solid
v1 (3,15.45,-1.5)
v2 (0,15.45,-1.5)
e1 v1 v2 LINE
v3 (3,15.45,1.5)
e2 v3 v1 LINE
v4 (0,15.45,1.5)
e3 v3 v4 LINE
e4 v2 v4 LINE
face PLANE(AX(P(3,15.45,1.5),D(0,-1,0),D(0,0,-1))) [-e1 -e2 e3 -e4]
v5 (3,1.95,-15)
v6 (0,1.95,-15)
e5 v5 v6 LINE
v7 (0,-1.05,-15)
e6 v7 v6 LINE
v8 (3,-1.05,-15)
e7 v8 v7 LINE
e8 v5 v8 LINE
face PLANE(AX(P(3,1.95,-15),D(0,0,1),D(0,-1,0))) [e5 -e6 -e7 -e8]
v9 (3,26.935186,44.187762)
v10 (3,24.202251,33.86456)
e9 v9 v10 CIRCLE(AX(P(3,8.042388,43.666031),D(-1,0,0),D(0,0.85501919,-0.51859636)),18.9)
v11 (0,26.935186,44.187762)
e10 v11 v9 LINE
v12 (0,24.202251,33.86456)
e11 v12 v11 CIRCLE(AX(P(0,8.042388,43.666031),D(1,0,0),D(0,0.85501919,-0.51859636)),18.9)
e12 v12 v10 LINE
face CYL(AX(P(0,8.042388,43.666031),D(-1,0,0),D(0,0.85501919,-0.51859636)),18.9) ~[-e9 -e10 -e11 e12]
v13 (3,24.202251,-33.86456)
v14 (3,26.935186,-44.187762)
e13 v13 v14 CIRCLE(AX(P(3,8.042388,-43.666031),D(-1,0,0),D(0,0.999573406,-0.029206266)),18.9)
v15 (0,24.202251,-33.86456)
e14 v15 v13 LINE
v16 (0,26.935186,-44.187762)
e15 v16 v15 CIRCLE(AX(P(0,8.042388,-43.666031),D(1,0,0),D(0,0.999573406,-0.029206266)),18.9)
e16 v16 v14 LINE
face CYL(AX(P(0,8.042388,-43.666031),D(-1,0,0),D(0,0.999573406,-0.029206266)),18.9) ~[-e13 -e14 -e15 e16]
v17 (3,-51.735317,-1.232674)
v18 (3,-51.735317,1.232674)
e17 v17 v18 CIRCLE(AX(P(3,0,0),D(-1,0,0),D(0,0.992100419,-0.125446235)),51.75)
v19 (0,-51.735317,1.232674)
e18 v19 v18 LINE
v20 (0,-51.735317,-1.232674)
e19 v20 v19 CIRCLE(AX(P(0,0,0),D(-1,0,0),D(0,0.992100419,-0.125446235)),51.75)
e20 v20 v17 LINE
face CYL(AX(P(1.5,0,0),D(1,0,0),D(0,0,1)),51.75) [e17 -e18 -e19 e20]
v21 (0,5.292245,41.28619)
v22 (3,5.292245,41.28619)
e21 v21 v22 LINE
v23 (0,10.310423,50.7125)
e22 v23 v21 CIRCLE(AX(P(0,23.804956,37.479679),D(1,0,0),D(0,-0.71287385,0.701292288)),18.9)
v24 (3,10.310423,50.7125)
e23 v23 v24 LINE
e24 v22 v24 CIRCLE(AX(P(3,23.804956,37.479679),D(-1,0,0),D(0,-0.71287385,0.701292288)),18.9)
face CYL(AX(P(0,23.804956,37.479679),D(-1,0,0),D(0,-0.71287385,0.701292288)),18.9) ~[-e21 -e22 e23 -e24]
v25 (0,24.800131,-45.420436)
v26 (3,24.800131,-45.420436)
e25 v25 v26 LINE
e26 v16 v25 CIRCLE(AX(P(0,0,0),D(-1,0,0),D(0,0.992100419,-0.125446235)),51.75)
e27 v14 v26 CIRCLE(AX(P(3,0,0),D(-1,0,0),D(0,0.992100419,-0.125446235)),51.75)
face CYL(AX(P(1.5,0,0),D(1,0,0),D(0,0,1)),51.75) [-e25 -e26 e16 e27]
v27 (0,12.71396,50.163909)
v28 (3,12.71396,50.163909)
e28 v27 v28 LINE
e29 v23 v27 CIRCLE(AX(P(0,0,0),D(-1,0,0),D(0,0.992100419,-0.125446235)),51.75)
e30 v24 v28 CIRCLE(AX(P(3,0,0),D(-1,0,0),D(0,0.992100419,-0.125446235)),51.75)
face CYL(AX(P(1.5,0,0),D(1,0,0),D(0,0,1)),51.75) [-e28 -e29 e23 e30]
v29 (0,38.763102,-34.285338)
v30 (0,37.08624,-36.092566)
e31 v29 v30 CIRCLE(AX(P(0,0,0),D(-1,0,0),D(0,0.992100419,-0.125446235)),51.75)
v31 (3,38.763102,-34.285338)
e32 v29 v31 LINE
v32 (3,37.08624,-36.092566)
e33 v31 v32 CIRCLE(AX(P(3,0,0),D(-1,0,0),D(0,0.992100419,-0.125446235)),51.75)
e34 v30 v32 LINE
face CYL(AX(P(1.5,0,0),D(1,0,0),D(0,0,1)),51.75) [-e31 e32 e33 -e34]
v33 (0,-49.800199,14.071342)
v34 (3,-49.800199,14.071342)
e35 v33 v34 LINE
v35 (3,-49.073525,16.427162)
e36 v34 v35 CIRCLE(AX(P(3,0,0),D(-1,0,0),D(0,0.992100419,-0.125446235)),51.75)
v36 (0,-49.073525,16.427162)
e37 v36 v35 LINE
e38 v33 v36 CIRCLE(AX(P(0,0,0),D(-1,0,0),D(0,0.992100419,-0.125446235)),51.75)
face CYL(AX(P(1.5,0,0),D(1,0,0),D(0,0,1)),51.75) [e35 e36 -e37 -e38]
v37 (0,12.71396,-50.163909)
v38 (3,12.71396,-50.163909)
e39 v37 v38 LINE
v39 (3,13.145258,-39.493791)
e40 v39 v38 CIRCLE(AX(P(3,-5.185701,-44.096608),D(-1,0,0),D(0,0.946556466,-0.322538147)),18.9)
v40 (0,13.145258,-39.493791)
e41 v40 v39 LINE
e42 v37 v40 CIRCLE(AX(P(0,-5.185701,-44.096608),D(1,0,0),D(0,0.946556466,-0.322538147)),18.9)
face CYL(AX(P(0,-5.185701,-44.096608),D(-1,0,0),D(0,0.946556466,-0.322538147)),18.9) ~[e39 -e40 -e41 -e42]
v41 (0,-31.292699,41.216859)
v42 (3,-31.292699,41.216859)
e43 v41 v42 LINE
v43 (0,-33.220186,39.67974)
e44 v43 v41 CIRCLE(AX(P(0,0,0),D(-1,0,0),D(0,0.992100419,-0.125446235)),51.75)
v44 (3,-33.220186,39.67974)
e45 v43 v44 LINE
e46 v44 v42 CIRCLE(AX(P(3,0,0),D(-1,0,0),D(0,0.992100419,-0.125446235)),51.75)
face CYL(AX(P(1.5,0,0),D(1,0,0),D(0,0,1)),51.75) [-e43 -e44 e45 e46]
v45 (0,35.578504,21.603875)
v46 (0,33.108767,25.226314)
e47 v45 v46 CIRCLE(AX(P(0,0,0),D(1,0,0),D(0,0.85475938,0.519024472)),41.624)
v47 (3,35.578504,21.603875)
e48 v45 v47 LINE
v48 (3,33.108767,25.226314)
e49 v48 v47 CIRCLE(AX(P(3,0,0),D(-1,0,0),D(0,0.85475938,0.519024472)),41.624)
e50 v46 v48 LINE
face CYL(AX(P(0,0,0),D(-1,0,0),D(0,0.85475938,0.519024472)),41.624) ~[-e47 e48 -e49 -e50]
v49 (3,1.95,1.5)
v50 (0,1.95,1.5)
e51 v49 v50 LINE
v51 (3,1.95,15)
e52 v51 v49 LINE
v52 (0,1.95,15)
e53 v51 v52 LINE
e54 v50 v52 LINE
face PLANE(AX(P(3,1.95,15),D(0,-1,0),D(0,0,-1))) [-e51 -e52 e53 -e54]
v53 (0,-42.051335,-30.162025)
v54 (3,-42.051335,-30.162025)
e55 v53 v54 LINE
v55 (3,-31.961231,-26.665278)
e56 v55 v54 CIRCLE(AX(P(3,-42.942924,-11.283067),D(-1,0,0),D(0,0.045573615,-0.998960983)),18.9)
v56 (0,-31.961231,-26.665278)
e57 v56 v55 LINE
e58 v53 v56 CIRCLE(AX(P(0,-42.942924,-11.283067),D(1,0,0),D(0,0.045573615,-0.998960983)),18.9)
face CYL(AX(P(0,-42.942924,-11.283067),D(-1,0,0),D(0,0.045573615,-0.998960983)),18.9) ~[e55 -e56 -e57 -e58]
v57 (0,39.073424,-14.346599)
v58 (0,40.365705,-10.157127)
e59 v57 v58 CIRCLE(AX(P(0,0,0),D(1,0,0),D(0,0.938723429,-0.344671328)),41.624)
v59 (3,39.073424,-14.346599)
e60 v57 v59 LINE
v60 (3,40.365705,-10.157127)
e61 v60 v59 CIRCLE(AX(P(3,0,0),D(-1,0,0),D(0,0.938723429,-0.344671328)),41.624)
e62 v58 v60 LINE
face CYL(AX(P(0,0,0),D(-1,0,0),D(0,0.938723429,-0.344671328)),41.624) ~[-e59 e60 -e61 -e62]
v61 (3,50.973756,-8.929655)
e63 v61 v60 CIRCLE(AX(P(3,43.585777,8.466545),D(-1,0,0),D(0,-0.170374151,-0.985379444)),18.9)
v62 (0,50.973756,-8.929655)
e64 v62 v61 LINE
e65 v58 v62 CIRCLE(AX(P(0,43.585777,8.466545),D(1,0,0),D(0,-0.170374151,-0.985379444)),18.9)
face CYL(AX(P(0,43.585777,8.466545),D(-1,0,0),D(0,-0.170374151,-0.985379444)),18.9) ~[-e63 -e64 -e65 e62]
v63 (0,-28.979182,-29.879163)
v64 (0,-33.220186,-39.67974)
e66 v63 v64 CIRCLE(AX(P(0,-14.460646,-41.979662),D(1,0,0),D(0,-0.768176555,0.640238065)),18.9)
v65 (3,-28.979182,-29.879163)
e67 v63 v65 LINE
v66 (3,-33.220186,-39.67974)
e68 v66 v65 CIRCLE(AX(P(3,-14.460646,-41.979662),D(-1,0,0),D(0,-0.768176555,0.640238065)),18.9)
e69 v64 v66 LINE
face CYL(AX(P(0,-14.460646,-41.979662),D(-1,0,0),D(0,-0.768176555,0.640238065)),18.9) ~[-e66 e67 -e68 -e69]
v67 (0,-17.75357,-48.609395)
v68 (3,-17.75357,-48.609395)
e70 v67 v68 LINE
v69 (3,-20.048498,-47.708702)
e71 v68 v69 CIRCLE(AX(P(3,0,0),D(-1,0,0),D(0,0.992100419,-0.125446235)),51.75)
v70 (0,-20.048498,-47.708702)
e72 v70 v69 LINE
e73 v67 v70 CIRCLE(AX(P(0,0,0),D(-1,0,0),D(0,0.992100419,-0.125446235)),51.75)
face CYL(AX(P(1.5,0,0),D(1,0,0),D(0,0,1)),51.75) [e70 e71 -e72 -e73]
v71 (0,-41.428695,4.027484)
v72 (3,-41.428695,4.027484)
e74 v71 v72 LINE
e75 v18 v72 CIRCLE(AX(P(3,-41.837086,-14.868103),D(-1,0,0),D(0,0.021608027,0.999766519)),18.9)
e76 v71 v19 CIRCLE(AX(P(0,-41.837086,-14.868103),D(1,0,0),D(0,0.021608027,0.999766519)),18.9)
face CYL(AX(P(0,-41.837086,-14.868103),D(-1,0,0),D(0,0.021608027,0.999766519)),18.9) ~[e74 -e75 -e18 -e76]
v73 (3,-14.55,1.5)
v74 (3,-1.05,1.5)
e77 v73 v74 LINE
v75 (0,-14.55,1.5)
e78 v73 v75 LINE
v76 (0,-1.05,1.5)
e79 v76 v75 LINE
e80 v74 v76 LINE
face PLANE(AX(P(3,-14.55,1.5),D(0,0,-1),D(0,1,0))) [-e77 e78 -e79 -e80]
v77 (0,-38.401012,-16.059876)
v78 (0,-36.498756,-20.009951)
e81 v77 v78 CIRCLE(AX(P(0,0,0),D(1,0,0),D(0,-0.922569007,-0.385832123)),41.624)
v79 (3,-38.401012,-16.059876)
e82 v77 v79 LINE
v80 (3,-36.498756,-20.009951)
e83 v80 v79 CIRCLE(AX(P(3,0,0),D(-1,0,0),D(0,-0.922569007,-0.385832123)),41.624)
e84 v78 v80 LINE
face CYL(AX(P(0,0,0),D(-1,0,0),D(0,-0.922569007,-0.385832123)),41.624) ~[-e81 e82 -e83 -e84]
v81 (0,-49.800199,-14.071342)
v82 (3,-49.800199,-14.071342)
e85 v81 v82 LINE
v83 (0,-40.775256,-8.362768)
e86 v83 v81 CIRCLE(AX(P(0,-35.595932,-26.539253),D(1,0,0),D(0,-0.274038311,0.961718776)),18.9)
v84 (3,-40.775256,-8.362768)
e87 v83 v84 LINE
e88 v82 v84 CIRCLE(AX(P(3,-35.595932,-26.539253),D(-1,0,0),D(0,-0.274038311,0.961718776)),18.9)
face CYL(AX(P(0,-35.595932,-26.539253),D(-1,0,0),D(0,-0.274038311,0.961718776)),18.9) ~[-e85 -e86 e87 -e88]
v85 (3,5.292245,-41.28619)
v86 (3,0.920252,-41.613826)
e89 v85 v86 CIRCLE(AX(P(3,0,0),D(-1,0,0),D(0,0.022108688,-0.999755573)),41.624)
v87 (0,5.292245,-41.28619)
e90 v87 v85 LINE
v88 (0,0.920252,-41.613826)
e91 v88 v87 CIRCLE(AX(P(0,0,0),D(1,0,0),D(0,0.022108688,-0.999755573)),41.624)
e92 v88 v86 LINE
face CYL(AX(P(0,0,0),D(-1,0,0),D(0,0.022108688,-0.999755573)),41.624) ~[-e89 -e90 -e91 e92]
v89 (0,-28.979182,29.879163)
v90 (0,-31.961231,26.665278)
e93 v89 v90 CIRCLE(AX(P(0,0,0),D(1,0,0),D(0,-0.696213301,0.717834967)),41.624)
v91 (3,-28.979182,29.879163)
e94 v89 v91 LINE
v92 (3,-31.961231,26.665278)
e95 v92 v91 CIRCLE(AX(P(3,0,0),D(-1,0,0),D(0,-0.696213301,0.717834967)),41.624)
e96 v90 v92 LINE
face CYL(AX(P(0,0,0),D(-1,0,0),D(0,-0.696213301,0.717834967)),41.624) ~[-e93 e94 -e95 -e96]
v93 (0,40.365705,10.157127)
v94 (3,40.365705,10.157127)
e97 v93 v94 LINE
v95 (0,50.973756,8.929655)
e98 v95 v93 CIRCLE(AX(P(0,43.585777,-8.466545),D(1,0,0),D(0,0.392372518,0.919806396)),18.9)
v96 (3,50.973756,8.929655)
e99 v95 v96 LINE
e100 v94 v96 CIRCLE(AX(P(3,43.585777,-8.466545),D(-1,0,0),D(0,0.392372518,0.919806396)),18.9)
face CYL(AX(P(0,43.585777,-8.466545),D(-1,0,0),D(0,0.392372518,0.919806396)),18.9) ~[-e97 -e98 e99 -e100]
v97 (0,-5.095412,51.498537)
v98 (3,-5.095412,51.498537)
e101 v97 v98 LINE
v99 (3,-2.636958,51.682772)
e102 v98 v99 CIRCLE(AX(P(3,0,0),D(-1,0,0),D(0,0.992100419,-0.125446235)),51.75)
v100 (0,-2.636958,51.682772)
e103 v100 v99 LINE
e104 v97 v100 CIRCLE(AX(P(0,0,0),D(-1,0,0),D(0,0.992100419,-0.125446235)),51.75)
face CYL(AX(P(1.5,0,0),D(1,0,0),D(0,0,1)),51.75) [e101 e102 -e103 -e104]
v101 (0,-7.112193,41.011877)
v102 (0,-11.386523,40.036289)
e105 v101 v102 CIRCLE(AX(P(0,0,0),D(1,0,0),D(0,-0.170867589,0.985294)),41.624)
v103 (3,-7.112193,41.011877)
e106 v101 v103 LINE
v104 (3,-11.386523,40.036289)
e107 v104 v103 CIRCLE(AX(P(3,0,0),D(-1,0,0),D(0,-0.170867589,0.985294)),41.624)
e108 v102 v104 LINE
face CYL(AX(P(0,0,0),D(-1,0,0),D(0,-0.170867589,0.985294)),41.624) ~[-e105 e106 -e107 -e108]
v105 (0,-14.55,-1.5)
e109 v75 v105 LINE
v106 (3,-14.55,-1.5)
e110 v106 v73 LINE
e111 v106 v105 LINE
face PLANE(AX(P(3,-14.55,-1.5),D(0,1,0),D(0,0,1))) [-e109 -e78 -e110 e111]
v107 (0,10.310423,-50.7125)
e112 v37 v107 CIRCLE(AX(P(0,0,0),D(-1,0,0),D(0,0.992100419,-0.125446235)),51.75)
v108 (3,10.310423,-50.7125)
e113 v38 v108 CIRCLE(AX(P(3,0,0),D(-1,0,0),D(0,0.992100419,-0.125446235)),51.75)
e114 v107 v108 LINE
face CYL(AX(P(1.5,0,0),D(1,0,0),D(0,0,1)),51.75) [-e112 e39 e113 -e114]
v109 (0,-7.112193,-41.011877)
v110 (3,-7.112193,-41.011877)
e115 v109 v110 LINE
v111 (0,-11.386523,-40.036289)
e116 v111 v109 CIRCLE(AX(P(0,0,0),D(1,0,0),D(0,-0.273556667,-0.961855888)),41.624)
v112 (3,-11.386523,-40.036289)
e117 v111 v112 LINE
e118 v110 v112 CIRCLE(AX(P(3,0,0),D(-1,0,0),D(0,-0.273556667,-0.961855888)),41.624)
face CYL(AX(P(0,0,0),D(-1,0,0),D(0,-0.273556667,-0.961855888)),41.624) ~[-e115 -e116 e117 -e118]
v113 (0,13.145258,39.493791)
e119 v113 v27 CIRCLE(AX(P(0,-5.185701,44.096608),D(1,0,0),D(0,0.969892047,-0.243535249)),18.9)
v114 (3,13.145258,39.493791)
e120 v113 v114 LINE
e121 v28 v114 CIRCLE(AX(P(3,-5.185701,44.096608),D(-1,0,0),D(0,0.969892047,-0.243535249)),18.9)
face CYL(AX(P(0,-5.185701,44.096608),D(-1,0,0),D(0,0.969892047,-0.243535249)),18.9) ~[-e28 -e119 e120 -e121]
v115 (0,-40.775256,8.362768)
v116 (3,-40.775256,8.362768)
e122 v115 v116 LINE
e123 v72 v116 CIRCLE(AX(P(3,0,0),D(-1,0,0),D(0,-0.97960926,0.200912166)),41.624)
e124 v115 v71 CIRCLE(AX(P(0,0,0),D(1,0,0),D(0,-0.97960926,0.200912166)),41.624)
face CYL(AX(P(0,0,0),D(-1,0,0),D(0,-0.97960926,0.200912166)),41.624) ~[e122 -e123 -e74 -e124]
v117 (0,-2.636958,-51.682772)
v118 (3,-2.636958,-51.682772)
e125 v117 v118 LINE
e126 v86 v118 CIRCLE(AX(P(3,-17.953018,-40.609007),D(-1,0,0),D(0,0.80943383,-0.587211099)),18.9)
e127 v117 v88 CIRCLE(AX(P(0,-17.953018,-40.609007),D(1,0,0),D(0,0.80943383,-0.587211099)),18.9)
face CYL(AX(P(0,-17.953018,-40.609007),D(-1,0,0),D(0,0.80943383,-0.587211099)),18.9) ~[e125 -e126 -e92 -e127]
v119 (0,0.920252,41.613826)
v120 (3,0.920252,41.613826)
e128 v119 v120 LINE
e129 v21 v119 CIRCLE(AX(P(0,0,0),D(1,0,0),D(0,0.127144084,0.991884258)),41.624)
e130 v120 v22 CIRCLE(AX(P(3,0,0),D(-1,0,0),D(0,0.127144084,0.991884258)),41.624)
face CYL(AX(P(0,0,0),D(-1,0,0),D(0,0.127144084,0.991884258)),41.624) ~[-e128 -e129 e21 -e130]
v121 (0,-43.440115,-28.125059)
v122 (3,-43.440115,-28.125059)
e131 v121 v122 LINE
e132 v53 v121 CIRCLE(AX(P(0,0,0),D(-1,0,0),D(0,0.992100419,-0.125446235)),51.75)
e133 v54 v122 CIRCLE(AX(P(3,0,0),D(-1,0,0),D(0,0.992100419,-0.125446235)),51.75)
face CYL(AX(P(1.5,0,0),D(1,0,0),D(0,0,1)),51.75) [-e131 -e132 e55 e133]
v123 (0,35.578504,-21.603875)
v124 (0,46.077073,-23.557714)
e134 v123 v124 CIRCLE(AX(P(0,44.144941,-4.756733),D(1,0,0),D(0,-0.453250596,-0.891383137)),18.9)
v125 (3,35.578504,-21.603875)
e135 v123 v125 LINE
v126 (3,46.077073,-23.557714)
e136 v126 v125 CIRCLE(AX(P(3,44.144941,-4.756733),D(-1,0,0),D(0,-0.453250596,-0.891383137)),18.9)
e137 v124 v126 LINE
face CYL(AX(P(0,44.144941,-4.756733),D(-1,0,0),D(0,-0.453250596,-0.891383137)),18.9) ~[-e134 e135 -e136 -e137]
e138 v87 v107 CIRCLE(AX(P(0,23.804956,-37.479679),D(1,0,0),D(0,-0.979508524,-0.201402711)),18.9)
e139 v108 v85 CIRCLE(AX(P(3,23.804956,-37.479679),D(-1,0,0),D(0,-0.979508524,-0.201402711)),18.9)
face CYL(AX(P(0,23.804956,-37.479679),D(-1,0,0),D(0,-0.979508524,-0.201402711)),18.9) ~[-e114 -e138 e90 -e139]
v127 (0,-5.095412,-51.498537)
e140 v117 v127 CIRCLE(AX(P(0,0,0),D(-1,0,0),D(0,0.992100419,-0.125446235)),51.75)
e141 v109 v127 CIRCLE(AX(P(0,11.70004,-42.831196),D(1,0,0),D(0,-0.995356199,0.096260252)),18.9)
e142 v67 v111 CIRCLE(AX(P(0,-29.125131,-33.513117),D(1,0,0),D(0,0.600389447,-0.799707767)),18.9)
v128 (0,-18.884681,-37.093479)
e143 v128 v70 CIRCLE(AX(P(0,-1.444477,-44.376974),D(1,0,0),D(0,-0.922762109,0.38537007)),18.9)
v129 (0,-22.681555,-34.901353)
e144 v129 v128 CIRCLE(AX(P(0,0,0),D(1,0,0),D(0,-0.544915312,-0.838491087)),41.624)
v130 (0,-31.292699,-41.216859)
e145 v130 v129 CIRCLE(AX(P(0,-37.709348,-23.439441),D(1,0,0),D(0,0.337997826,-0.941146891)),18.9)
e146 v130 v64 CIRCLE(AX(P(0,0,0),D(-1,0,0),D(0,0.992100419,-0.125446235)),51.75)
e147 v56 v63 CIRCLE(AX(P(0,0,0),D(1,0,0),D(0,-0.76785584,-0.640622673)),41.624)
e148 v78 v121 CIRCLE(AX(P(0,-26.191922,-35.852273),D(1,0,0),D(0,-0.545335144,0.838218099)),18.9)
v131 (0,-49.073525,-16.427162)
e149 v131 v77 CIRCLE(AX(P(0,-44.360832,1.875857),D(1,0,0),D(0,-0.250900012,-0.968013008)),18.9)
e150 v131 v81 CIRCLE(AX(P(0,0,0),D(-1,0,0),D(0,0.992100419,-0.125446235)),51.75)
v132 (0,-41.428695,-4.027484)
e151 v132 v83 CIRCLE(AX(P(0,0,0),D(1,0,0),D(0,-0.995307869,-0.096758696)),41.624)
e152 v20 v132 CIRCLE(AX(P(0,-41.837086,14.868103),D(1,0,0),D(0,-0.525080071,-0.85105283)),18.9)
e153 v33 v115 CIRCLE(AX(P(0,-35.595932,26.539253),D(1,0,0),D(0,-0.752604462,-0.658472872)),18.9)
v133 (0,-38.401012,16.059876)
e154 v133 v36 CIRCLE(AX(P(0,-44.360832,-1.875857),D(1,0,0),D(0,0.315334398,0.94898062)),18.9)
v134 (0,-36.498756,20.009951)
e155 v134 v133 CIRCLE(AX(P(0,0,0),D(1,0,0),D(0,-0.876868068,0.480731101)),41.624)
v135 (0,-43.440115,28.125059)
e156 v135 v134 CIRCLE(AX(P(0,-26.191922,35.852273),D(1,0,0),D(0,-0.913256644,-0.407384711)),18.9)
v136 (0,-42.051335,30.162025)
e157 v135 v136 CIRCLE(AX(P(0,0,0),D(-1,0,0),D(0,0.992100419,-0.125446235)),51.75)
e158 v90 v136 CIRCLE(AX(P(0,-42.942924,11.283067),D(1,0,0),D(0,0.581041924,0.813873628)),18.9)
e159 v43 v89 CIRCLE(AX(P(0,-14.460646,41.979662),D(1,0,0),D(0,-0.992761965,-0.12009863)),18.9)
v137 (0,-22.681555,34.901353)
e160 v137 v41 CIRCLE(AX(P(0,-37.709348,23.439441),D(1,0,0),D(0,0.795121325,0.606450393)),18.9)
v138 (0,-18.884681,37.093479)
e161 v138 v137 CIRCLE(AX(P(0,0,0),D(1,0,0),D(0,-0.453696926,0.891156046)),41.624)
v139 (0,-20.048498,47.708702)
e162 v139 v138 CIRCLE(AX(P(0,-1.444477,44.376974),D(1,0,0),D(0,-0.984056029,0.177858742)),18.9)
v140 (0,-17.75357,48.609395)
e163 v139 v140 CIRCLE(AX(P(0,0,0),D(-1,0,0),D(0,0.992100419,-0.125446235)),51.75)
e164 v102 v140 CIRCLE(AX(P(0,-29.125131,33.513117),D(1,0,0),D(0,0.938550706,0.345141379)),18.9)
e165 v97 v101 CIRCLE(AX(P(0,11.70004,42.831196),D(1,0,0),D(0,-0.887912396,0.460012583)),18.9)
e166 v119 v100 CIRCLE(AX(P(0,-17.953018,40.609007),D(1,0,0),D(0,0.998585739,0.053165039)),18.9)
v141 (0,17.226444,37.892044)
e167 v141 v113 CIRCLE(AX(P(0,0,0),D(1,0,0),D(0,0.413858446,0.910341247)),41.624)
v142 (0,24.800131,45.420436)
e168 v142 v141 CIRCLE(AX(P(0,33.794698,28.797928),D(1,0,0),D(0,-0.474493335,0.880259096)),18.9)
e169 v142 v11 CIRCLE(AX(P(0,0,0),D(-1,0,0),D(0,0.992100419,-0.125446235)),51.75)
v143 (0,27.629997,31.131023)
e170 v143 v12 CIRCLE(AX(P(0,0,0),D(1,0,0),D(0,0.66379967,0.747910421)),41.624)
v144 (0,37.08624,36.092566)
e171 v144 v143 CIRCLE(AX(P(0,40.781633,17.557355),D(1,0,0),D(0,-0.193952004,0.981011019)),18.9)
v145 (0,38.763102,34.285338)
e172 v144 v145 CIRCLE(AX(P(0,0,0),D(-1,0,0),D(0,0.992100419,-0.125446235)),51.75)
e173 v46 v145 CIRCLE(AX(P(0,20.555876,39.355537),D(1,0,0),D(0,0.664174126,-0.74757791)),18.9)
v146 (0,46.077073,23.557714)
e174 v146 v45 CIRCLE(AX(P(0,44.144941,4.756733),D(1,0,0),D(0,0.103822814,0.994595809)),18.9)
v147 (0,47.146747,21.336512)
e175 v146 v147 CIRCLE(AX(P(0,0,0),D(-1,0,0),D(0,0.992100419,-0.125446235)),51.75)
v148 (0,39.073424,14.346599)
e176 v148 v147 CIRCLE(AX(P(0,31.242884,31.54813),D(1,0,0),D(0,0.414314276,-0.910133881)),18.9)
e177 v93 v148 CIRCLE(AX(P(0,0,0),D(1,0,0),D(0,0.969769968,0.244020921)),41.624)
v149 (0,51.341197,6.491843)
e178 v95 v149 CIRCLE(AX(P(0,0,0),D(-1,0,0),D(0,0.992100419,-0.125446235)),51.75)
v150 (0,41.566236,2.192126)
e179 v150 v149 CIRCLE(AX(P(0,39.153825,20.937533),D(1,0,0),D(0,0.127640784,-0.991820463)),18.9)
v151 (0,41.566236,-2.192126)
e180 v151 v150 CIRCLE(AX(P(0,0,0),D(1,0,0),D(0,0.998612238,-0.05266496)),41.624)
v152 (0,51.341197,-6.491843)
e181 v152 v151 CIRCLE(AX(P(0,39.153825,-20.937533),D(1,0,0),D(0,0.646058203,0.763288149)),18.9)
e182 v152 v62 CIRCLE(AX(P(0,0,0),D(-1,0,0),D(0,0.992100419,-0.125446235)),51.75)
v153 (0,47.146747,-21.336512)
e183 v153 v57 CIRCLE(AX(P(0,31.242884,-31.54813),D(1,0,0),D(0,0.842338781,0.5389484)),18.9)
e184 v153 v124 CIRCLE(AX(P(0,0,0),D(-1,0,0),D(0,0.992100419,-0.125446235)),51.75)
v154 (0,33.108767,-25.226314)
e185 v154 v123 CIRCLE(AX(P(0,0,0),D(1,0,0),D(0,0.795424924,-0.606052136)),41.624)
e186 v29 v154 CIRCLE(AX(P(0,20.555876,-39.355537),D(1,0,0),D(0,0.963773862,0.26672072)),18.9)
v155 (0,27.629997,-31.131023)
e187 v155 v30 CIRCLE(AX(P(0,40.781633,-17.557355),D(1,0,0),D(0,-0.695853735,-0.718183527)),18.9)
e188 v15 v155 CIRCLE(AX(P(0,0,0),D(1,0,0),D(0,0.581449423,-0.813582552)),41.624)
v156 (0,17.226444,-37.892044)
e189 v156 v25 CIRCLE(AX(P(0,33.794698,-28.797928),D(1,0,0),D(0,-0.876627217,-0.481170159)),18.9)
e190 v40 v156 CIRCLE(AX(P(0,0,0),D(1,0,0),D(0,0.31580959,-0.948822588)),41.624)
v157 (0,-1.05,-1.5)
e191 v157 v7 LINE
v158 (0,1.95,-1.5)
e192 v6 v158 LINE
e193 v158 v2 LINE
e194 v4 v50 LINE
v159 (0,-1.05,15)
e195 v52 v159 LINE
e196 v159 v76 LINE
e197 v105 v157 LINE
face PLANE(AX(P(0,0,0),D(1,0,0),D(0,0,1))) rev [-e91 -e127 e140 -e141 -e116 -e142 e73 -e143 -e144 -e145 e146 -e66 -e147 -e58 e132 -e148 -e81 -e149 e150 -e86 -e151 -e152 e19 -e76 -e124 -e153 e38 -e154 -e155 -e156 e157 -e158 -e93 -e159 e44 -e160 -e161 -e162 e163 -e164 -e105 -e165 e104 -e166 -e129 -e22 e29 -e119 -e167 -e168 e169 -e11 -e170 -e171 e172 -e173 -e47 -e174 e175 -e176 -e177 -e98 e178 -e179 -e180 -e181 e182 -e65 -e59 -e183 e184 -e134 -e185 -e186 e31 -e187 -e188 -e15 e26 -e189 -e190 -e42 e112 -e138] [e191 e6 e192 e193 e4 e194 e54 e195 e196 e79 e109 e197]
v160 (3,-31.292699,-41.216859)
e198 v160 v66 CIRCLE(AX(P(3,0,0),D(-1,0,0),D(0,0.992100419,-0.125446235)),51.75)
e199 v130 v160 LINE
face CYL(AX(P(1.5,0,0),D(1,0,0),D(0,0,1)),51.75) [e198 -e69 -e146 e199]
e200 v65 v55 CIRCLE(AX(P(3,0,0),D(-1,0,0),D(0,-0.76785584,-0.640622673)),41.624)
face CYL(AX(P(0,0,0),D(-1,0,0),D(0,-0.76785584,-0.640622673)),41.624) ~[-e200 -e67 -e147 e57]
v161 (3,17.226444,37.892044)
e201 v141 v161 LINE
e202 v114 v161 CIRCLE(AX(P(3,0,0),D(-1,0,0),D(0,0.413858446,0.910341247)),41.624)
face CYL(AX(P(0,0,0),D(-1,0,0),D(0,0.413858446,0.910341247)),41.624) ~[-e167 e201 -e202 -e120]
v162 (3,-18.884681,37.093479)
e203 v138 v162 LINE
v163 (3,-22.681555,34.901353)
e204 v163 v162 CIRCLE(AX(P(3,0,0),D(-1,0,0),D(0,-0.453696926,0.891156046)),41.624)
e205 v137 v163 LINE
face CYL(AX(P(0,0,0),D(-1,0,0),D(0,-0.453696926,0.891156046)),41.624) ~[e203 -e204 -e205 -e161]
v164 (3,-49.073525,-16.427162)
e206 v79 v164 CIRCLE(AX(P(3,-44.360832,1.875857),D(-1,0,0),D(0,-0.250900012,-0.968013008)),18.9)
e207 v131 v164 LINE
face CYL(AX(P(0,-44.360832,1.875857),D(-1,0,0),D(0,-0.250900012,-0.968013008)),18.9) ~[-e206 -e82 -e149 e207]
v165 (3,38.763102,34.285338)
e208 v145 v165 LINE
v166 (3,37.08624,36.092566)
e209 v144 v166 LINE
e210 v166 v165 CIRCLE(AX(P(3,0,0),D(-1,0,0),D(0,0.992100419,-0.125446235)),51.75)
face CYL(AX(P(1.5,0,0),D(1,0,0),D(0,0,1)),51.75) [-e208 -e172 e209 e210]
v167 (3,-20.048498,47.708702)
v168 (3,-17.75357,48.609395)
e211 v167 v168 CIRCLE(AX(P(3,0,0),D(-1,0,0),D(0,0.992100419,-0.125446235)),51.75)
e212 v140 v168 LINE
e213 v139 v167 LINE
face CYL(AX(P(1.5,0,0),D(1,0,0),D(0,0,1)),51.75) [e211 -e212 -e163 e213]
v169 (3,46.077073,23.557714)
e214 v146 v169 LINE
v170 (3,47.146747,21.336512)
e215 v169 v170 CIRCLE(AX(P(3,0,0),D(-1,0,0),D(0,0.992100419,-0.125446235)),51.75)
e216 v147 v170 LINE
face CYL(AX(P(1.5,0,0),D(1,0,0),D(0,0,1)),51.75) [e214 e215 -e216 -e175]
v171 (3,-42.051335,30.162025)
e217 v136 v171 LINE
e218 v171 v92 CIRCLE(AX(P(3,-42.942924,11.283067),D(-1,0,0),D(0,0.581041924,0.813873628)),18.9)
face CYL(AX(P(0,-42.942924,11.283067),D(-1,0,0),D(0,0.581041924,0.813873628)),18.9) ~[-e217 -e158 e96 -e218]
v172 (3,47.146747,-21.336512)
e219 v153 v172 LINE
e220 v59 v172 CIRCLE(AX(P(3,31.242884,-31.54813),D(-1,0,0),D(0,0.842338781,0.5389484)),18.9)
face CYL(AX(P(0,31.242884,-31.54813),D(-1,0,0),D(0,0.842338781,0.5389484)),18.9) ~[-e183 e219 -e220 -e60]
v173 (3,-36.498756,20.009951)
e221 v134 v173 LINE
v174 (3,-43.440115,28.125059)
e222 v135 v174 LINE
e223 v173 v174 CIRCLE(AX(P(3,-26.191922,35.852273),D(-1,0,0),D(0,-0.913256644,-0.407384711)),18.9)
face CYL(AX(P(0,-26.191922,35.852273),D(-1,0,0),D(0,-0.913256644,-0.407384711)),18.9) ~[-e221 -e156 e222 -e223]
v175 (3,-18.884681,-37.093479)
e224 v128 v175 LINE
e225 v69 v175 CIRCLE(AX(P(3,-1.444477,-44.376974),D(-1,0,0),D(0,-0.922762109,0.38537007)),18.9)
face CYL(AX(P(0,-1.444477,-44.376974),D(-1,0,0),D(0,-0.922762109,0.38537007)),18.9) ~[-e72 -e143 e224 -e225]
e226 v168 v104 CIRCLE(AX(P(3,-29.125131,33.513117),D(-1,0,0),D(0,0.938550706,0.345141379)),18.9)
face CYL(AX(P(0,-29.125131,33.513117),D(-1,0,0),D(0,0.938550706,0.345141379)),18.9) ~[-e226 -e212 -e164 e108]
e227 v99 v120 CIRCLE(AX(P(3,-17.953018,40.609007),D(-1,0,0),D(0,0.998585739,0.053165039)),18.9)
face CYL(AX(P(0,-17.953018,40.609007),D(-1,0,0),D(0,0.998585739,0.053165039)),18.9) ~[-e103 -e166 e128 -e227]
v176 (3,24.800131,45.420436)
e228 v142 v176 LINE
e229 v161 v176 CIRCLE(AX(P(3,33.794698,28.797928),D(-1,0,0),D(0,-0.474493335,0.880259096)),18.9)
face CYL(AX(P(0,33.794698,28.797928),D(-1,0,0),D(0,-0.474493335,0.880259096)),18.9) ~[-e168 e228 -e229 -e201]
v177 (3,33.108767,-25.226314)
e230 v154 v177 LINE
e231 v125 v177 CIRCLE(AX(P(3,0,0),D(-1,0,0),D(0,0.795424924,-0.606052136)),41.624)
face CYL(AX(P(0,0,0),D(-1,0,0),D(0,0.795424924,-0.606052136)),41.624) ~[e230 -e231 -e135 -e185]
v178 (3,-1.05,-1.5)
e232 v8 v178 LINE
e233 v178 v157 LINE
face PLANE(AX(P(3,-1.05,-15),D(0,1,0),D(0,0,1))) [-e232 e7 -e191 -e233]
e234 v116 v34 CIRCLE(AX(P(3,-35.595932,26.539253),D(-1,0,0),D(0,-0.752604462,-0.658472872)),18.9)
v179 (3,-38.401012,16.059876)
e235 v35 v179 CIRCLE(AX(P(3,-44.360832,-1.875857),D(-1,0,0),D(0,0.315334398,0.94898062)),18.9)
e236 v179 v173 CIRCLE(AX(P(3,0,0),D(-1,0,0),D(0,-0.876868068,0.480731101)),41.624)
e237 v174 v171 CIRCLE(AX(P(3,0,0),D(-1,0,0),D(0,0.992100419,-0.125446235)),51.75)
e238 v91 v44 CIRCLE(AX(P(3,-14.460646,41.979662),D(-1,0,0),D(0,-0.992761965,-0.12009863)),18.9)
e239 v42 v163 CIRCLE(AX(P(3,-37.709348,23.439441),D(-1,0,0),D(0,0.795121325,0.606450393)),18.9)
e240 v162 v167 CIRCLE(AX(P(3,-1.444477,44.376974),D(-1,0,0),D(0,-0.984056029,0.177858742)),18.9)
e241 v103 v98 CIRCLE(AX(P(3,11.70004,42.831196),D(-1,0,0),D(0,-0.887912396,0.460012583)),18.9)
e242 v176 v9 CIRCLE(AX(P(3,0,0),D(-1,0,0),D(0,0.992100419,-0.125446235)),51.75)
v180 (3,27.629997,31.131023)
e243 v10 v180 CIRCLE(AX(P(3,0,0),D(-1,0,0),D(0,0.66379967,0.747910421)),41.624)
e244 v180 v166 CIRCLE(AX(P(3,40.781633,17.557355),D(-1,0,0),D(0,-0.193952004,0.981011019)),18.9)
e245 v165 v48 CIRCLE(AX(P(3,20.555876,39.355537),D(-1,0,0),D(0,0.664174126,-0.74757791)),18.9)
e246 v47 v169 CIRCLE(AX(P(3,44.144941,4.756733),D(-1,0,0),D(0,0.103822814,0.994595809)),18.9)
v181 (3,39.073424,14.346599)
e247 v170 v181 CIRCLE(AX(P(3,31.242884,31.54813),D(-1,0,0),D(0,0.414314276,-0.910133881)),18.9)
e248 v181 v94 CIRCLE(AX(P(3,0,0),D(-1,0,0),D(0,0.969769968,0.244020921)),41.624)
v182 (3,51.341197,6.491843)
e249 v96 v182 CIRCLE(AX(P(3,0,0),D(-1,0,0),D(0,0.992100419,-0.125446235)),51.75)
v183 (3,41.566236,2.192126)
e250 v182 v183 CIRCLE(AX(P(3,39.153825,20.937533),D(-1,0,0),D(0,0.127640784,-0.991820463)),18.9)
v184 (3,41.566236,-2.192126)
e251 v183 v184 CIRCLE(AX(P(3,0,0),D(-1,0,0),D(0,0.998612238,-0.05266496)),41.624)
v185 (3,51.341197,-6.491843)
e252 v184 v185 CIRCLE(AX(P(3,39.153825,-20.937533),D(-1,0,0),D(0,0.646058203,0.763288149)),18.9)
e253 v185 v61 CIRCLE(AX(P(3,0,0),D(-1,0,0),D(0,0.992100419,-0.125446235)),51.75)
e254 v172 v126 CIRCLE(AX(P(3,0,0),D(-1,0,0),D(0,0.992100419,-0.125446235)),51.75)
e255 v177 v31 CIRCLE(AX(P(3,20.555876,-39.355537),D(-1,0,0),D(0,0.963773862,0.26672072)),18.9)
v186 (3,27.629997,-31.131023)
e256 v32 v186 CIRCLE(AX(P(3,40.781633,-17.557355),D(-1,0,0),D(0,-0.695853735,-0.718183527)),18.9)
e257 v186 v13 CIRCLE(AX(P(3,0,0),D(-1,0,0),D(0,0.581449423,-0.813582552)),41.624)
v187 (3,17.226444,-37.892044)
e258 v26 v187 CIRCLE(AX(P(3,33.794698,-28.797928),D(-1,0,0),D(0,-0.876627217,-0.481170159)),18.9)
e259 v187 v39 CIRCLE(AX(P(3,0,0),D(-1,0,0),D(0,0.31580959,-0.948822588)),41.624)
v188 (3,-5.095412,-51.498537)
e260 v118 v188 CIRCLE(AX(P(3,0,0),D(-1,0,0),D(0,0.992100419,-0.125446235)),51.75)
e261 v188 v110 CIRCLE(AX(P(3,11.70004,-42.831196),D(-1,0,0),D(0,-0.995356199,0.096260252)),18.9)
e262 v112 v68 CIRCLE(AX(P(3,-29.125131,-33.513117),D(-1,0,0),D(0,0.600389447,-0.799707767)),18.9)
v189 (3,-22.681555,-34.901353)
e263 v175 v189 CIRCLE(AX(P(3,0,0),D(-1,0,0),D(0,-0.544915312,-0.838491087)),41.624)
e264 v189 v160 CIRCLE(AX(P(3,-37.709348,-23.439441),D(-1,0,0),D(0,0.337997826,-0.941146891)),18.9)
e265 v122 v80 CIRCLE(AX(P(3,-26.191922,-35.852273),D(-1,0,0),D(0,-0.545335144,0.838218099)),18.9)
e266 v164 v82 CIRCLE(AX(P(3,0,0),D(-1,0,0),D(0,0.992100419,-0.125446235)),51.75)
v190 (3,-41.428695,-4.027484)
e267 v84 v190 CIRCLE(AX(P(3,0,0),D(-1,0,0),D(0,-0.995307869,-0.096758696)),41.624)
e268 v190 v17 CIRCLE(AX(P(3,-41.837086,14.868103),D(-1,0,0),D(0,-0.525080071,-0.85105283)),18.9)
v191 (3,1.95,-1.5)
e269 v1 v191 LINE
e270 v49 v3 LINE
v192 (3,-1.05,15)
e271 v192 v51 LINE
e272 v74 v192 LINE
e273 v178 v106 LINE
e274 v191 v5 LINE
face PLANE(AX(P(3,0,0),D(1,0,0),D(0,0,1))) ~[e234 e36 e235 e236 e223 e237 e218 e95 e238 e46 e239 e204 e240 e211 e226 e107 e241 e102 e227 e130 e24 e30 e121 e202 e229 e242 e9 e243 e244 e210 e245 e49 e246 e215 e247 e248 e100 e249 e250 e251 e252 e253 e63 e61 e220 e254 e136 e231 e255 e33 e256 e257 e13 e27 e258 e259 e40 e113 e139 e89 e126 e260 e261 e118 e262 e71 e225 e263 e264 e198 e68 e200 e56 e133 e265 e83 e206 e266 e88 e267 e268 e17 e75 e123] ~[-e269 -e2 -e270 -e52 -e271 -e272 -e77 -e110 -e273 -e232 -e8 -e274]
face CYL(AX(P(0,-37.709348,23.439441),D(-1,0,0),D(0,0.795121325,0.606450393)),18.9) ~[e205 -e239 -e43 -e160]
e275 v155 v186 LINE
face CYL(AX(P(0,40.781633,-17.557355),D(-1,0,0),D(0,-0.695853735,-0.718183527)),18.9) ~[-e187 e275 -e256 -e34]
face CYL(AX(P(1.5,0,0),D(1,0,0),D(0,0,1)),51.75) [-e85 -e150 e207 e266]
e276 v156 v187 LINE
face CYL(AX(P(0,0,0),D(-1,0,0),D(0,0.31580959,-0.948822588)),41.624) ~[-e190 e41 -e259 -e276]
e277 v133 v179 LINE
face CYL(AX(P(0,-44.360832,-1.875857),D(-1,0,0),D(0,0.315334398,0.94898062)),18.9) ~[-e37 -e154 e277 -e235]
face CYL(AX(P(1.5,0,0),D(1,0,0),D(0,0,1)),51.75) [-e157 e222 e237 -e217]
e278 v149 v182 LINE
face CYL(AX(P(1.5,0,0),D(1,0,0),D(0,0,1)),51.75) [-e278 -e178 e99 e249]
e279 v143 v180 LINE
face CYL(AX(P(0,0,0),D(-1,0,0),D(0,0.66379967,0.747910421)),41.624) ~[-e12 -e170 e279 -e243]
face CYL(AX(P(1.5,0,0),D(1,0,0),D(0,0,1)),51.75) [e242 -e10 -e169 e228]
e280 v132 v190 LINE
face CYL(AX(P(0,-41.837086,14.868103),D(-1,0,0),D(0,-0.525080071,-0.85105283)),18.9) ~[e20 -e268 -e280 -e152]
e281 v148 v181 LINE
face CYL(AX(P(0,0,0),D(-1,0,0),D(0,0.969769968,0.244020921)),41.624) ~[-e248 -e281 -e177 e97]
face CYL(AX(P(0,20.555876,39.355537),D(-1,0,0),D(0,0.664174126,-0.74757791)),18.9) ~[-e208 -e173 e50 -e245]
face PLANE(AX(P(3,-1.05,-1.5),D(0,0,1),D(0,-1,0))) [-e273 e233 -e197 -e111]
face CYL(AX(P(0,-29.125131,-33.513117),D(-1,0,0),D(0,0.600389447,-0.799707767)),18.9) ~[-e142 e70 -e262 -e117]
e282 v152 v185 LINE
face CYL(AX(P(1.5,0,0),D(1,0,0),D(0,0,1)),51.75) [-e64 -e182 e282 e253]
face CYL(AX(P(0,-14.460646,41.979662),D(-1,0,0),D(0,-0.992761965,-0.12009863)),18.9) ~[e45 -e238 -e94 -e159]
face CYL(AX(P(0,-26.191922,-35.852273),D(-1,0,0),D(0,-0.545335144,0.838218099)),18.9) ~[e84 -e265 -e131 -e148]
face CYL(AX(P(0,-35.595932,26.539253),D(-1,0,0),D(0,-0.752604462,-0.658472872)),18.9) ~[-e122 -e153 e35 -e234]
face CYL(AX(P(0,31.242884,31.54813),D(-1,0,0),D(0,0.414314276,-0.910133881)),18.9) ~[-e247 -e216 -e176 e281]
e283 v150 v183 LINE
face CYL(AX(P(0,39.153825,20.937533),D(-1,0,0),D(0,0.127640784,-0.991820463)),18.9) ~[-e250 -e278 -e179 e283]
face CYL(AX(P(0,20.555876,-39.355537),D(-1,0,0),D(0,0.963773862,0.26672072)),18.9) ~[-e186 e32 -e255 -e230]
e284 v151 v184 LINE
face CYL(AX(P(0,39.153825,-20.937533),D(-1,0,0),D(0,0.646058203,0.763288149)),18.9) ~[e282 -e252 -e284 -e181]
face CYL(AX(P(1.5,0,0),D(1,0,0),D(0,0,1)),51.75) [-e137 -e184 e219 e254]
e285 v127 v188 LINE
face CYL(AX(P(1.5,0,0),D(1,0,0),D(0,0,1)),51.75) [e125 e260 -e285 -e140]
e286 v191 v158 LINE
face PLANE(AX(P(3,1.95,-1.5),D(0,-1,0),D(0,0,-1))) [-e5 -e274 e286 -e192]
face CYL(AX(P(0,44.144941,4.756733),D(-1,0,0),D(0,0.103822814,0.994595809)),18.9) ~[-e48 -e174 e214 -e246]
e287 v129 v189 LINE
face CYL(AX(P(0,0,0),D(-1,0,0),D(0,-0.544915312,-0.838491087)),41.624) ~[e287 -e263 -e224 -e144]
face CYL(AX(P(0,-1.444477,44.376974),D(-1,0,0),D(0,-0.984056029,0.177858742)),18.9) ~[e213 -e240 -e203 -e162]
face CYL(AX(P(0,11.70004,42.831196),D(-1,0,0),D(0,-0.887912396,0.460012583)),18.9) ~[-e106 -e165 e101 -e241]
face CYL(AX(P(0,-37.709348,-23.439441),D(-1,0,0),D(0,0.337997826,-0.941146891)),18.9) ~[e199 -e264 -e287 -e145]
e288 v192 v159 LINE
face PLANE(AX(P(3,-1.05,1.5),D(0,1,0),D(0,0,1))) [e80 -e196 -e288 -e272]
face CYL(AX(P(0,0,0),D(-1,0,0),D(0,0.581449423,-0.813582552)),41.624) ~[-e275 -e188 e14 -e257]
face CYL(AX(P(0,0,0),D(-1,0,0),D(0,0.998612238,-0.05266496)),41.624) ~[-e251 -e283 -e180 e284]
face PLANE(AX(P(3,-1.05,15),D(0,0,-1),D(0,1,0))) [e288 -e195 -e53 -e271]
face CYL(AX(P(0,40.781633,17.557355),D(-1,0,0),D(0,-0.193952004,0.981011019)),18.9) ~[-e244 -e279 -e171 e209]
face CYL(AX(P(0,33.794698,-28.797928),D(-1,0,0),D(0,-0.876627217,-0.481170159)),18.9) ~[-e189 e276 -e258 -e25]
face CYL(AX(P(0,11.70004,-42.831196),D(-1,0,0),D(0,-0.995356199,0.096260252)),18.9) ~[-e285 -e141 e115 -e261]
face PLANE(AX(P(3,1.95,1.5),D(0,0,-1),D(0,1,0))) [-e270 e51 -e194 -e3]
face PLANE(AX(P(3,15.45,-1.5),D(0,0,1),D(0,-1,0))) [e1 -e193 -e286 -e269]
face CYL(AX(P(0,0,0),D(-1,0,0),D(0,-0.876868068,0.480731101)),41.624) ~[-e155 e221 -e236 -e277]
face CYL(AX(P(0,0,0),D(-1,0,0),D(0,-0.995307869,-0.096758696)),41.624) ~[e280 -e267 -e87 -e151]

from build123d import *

# Parameters (mm, degrees)
BASPROSKE_W        = 3
BASPROSKE_H        = 51.75
TOOTHCUT_DEPTH     = 74.247013591
TEETHCUTS_COUNT    = 21
TEETHCUTS_ANGLE    = 342.857142857
BORSKE_R           = 0.45
BORE_DEPTH         = 50.0000508
CUT_EXTRUDE1_DEPTH = 74.199531789


with BuildPart() as part:
    # BasProSke → Base-Revolve (revolve)
    with BuildSketch(Plane(origin=(0, 0, 0), x_dir=(1, 0, 0), z_dir=(0, 1, 0)), mode=Mode.PRIVATE) as base_revolve_sk:
        with Locations((1.5, 25.875)):
            Rectangle(BASPROSKE_W, BASPROSKE_H)
    revolve(base_revolve_sk.sketch.rotate(Axis((-10, 0, 0), (1, 0, 0)), 180), axis=Axis((-10, 0, 0), (1, 0, 0)))

    # TooCutSke → ToothCut (cut, through all)
    with BuildSketch(Plane(origin=(0, 0, 0), x_dir=(0, 0, -1), z_dir=(1, 0, 0))):
        with BuildLine():
            ThreePointArc((2.192126265, 41.566235798), (0, 41.624), (-2.192126265, 41.566235798))
            ThreePointArc((-2.192126265, 41.566235798), (-3.643354331, 46.777563157), (-6.511386997, 51.364325018))
            ThreePointArc((-6.511386997, 51.364325018), (0, 51.7754), (6.511386997, 51.364325018))
            ThreePointArc((6.511386997, 51.364325018), (3.643354331, 46.777563157), (2.192126265, 41.566235798))
        make_face()
    toothcut = extrude(amount=TOOTHCUT_DEPTH, mode=Mode.SUBTRACT)

    # TeethCuts: ToothCut ×21 about axis
    teethcuts_axis = Axis((-10, 0, 0), (1, 0, 0))
    for i in range(1, TEETHCUTS_COUNT):
        add(toothcut.rotate(teethcuts_axis, i * TEETHCUTS_ANGLE / (TEETHCUTS_COUNT - 1)), mode=Mode.SUBTRACT)

    # BorSke → Bore (cut, symmetric)
    with BuildSketch(Plane(origin=(0, 0, 0), x_dir=(0, 0, -1), z_dir=(1, 0, 0))):
        with Locations(Location((0, 0, 0), (0, 0, 180))):
            Circle(BORSKE_R)
    extrude(amount=BORE_DEPTH, both=True, mode=Mode.SUBTRACT)

    # Sketch1 → Cut-Extrude1 (cut, through all)
    with BuildSketch(Plane(origin=(3, 0, 0), x_dir=(0, 0, -1), z_dir=(1, 0, 0))):
        Polygon((1.5, 1.95), (15, 1.95), (15, -1.05), (1.5, -1.05), (1.5, -14.55), (-1.5, -14.55), (-1.5, -1.05), (-15, -1.05), (-15, 1.95), (-1.5, 1.95), (-1.5, 15.45), (1.5, 15.45), align=None)
    extrude(amount=-CUT_EXTRUDE1_DEPTH, mode=Mode.SUBTRACT)


solid = part.part
